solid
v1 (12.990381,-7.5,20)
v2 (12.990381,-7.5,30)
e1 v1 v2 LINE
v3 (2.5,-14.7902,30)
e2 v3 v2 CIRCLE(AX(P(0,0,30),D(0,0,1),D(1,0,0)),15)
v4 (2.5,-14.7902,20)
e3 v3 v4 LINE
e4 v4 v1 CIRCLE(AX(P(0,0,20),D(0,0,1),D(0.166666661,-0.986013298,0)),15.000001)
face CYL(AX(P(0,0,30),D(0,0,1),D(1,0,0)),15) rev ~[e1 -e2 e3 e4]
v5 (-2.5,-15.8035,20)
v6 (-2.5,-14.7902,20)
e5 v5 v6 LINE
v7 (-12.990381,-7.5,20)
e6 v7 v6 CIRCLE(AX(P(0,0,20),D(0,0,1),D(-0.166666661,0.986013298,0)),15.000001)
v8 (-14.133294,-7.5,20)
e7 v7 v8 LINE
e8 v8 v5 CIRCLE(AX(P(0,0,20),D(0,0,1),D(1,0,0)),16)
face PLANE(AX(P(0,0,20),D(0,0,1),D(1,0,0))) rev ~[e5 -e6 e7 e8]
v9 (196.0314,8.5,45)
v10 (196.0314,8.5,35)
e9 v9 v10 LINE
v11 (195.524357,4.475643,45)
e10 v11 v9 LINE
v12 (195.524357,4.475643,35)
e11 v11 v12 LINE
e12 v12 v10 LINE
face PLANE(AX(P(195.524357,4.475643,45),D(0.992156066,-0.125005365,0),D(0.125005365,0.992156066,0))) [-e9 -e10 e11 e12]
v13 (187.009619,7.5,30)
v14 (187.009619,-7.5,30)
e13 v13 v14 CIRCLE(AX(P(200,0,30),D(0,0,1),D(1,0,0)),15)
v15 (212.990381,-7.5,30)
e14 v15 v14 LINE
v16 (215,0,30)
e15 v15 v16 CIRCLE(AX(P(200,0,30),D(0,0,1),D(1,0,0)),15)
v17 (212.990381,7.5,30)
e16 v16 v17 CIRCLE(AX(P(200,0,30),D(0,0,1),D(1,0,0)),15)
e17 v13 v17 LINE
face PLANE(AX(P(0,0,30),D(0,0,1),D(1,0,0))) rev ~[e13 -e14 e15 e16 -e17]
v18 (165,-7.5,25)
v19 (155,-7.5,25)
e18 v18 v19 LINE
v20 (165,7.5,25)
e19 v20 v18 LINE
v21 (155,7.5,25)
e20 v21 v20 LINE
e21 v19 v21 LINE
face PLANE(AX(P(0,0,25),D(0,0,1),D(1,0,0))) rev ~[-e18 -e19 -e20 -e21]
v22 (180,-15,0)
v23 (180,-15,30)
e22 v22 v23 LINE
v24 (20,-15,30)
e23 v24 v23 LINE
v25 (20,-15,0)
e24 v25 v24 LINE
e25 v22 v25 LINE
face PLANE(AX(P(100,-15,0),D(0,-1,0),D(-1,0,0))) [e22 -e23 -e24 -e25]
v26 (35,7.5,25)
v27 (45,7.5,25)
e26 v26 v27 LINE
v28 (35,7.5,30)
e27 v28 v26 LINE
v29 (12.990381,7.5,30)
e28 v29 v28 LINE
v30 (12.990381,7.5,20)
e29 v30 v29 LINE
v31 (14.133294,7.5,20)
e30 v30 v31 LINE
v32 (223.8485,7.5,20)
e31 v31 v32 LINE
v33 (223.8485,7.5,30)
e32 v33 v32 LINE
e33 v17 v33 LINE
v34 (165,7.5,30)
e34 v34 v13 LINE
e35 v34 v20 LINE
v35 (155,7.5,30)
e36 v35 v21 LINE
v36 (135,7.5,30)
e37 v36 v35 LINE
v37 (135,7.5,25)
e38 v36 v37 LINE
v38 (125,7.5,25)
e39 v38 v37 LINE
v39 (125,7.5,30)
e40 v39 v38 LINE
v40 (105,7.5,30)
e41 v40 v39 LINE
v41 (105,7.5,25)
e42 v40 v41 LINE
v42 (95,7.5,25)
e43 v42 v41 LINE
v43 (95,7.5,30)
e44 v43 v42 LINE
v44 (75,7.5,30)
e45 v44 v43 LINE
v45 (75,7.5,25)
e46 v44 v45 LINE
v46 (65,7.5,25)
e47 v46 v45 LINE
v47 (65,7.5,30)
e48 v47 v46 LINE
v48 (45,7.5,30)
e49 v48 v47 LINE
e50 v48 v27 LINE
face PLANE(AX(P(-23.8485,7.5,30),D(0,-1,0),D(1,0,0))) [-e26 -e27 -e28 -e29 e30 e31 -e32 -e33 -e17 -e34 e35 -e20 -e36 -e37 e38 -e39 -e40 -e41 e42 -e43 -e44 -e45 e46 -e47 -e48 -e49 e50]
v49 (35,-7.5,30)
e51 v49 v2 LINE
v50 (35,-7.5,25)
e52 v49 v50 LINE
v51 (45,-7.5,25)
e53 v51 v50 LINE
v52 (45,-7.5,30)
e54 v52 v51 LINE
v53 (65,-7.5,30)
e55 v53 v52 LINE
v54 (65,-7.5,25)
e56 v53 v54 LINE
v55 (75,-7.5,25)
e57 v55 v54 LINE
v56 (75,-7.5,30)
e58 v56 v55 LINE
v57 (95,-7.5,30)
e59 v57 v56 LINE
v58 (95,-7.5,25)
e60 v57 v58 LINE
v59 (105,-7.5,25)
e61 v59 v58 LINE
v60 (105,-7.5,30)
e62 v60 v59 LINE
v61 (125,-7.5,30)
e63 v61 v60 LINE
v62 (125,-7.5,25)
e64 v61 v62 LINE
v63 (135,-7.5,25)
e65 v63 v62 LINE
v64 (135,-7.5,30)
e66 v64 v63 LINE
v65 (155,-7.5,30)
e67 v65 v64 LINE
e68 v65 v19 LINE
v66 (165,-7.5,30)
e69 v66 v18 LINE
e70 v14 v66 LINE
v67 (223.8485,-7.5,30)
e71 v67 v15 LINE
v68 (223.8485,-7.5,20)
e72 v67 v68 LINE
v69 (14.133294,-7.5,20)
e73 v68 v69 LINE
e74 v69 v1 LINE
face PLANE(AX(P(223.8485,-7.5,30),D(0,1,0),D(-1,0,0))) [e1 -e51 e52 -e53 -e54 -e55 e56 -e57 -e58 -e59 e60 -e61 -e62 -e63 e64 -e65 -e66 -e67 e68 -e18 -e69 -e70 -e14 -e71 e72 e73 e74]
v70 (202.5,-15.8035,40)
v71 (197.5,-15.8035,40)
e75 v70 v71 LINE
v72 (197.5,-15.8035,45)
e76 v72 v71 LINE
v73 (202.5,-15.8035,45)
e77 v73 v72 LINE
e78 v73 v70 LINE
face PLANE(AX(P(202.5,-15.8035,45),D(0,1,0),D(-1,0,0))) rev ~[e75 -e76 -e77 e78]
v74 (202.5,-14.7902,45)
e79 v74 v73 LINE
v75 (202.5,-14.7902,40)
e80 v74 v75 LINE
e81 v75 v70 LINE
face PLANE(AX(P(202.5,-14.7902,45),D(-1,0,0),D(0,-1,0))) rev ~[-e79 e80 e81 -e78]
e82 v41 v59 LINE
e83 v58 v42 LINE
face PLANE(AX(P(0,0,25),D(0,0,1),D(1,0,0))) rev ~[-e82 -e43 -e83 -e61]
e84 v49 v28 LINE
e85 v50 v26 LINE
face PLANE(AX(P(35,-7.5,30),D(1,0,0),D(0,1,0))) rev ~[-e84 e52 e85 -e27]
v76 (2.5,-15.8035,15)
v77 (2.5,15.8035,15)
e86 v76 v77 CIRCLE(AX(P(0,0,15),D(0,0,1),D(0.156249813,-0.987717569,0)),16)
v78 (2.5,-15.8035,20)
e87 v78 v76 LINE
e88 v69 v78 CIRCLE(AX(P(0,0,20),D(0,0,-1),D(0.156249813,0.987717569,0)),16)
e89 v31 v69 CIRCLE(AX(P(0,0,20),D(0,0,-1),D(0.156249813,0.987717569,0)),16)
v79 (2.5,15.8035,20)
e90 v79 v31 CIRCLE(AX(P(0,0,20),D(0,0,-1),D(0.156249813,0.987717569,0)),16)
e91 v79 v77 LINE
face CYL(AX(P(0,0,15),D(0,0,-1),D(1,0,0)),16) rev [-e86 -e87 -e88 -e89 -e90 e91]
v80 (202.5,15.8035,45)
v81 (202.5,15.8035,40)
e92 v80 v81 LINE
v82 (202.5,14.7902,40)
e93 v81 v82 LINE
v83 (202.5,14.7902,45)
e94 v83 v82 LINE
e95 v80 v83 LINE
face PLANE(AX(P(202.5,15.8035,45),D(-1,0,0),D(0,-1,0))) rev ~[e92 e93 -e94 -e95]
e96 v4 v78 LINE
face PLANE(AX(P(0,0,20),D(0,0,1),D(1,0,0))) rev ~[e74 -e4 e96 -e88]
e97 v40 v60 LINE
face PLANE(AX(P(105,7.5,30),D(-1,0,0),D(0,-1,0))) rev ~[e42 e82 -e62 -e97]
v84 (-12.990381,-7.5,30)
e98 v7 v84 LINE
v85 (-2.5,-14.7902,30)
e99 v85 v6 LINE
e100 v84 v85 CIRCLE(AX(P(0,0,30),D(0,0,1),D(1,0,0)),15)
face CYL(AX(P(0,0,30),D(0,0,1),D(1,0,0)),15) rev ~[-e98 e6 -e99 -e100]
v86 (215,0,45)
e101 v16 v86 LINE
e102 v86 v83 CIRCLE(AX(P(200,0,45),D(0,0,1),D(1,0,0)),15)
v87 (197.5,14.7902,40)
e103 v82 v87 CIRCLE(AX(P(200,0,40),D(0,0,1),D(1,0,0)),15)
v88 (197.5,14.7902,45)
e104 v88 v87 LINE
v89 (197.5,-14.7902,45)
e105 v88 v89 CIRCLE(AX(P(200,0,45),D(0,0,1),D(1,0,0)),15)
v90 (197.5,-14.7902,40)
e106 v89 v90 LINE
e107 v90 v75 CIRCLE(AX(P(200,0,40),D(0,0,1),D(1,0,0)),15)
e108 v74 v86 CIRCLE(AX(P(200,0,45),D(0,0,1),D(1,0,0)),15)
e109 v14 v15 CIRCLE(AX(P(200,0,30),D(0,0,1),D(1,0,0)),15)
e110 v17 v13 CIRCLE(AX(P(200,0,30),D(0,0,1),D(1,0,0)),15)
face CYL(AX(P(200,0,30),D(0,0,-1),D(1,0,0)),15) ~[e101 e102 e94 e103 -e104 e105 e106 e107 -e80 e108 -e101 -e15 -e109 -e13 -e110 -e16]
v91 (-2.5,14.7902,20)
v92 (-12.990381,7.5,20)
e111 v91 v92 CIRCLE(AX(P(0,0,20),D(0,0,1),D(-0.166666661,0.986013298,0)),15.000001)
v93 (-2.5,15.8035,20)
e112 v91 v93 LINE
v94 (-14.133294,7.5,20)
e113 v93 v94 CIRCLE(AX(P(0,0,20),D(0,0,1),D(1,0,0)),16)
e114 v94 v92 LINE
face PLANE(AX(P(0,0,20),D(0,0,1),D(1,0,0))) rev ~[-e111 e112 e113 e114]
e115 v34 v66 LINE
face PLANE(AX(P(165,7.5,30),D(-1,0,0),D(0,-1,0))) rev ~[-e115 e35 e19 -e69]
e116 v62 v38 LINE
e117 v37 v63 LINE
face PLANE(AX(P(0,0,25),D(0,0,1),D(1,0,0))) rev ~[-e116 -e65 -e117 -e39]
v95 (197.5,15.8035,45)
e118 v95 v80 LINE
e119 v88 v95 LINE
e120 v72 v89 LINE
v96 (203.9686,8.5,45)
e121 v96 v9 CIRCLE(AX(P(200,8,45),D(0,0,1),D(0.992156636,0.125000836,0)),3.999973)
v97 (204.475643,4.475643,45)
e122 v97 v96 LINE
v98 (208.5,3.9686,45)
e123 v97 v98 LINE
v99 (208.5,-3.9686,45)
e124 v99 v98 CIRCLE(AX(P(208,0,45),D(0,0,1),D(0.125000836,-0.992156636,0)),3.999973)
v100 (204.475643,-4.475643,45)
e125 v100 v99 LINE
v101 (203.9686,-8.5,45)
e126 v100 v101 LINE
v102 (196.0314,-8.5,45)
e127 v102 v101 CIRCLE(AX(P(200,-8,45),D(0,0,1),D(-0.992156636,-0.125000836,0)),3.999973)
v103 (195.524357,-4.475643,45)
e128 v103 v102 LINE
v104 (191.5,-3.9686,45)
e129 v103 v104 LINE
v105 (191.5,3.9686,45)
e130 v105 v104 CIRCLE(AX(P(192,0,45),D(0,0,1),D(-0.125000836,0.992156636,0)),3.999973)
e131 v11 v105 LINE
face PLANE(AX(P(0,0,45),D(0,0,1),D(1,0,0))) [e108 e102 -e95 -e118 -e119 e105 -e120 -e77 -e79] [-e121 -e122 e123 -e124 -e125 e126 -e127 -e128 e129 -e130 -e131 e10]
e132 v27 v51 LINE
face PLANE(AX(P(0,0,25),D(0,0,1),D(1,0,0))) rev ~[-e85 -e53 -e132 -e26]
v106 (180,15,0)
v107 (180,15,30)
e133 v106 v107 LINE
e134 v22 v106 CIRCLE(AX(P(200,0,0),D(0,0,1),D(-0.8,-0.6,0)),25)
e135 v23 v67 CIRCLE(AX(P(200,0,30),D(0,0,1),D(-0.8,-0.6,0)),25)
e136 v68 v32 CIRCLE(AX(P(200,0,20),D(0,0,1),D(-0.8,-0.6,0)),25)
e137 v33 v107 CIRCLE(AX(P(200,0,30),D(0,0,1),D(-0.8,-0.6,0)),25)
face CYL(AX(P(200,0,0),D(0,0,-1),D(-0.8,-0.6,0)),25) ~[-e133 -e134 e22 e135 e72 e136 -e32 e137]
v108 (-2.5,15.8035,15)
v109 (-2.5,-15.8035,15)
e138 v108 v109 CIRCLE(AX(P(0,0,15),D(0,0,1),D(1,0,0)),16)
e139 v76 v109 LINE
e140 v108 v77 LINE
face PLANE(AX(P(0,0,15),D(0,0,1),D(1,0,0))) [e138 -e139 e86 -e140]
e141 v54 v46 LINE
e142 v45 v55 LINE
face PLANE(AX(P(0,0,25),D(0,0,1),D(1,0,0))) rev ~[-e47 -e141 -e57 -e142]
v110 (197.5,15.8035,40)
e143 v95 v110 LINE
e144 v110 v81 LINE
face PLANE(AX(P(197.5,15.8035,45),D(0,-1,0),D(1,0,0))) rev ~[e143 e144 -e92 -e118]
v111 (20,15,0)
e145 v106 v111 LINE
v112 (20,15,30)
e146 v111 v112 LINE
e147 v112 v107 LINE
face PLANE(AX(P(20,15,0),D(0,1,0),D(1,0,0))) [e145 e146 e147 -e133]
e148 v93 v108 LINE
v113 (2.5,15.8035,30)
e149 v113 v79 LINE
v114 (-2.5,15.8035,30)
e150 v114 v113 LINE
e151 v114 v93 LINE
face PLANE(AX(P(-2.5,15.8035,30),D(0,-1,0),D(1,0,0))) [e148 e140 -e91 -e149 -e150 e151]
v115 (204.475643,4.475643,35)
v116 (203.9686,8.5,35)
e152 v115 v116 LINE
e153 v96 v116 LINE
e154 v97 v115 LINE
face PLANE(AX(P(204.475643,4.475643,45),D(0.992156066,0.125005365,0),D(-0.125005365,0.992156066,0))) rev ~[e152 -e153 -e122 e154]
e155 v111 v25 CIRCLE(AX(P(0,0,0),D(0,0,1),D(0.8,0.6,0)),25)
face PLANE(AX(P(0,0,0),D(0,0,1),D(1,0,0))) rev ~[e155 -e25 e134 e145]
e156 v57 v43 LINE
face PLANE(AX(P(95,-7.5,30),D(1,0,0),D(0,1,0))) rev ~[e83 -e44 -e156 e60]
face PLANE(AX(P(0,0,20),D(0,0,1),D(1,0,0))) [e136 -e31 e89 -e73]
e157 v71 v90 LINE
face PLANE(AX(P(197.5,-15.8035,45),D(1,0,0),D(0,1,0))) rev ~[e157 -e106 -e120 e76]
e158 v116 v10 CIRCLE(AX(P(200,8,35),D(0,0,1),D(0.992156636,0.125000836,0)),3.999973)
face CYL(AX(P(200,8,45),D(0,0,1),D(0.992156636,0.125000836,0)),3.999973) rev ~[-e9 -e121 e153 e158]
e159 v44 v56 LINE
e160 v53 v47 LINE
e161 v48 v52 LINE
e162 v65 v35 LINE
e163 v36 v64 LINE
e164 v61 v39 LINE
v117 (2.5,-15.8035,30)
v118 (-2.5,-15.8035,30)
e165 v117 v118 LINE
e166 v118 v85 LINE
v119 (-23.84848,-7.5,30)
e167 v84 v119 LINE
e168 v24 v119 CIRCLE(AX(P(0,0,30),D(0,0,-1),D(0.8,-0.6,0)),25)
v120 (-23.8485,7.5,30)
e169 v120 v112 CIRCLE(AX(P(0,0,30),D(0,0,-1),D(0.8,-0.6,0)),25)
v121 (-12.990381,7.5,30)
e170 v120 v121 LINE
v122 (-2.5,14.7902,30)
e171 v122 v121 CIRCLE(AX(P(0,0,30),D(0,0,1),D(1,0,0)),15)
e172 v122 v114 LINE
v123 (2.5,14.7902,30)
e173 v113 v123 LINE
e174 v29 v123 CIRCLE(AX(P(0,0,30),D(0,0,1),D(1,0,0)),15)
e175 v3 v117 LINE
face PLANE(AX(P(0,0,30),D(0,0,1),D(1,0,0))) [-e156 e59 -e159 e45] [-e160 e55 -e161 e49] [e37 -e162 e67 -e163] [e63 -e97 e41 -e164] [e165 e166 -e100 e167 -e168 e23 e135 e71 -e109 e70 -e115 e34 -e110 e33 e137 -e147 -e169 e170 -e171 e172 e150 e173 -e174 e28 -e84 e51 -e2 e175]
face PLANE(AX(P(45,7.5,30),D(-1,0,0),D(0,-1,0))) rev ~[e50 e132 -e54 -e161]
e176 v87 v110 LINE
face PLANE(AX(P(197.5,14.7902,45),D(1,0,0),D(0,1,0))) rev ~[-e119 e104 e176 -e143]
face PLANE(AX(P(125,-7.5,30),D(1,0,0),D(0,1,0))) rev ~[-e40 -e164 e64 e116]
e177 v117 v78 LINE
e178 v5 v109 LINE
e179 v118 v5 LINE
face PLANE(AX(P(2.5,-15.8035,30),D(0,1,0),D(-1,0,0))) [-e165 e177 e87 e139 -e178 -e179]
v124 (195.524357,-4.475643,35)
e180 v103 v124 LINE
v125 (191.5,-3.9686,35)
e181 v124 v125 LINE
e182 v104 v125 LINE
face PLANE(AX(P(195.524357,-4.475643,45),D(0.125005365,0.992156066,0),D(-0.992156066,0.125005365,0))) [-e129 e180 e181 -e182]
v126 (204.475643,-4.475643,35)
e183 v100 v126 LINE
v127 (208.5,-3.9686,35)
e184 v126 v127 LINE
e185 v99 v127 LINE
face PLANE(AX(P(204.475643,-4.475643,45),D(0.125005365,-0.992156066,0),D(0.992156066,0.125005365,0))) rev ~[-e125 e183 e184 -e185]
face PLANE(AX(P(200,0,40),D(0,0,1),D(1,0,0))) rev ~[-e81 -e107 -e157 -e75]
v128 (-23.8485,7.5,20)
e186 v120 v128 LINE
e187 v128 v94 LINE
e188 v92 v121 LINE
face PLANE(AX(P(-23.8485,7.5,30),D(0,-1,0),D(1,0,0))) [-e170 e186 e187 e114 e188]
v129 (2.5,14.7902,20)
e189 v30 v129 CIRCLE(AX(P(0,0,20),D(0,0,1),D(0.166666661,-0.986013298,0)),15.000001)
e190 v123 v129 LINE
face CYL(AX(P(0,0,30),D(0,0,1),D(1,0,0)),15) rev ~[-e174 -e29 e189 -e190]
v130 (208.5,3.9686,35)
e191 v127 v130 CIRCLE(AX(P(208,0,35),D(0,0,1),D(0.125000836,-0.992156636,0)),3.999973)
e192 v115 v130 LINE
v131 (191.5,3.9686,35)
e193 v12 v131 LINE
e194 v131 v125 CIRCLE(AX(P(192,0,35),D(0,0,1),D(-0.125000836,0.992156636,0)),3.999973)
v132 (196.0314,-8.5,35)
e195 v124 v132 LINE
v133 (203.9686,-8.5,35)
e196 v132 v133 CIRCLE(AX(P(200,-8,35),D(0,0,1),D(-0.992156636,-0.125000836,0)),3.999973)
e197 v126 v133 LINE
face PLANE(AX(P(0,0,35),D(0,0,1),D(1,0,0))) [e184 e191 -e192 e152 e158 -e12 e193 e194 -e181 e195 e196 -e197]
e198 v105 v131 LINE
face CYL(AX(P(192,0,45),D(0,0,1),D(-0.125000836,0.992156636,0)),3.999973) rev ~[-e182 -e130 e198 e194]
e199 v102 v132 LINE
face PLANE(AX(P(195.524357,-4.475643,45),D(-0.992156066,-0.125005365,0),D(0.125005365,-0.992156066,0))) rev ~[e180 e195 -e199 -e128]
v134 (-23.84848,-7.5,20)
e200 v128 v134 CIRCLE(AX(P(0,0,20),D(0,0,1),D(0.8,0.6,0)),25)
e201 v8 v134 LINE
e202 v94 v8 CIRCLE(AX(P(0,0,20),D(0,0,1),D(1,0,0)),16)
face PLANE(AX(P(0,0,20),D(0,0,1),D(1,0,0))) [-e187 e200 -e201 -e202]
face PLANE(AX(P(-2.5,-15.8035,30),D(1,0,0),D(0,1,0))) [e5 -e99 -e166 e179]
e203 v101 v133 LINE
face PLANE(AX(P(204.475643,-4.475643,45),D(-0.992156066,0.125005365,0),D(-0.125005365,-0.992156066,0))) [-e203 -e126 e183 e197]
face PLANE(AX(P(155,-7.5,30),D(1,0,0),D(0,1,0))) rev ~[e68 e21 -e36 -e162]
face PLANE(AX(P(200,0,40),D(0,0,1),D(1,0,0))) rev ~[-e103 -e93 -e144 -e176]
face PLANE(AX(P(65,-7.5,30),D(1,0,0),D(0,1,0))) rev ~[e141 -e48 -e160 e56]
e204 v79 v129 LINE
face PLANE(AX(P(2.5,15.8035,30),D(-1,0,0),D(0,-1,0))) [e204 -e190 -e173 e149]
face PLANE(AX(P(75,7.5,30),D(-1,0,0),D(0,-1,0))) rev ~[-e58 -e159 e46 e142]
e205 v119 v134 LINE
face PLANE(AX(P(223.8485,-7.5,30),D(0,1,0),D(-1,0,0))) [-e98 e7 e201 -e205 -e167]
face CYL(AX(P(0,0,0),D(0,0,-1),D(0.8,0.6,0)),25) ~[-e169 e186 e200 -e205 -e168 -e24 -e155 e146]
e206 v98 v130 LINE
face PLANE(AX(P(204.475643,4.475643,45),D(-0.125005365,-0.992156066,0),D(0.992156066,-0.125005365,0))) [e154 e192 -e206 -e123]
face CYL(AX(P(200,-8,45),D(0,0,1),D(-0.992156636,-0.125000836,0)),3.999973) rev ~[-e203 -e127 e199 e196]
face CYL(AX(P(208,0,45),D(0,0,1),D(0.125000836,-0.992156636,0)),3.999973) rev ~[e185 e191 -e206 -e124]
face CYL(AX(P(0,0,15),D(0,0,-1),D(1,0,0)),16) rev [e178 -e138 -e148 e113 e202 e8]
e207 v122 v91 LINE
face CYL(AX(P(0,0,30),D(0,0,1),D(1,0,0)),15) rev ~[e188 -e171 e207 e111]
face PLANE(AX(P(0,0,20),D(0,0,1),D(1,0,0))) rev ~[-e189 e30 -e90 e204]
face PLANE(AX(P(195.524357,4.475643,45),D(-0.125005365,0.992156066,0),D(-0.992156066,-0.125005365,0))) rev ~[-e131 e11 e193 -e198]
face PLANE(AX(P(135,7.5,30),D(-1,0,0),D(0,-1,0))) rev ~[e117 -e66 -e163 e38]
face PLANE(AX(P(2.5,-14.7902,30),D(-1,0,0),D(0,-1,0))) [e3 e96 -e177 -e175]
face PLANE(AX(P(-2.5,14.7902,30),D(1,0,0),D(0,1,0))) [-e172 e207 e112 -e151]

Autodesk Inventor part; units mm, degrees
ref_plane "YZ Plane" through (0, 0, 0) normal (1, 0, 0) x (0, 1, 0)
ref_plane "XZ Plane" through (0, 0, 0) normal (0, 1, 0) x (-1, 0, 0)
ref_plane "XY Plane" through (0, 0, 0) normal (0, 0, 1) x (1, 0, 0)
sketch "Szkic1" plane through (0, 0, 0) normal (0, 0, 1) x (1, 0, 0)
  arc A0 (20, 15) -> (-20, 15) centre (0, 0) ccw
  line L0 (20, 15) -> (100, 15)
  line L1 (100, 15) -> (100, -15)
  line L2 (100, -15) -> (20, -15)
  arc A1 (180, -15) -> (180, 15) centre (200, 0) ccw
  line L3 (180, 15) -> (100, 15)
  line L4 (100, -15) -> (180, -15)
  arc A2 (-20, 15) -> (20, -15) centre (0, 0) ccw
  dimension "d0" = 50
  dimension "d1" = 30
  dimension "d2" = 200
extrude "kształt" add sketch "Szkic1" along normal blind 30
sketch "Szkic2" plane through (0, 0, 30) normal (0, 0, 1) x (1, 0, 0)
  arc A0 (20, 15) -> (20, -15) centre (0, 0) ccw projected
  line L0 (20, -15) -> (180, -15) projected
  arc A1 (180, -15) -> (180, 15) centre (200, 0) ccw projected
  line L1 (180, 15) -> (20, 15) projected
  line L2 (-23.8485, 7.5) -> (223.8485, 7.5)
  line L3 (223.8485, -7.5) -> (-73.8485, -7.5)
  point P0 (-23.8485, -7.5)
  dimension "d5" = 15
extrude "rowek na kable" cut sketch "Szkic2" against normal blind 10 contours L2 A1 L3 A0
sketch "Szkic3" plane through (0, 0, 30) normal (0, 0, 1) x (1, 0, 0)
  arc A0 (223.8485, 7.5) -> (180, 15) centre (200, 0) ccw projected
  circle A1 centre (200, 0) radius 15
  point P0 (0, 0)
  dimension "d8" = 30
extrude "odstająćy cosik" add sketch "Szkic3" along normal blind 15
sketch "Szkic4" plane through (0, 0, 30) normal (0, 0, 1) x (1, 0, 0)
  circle A0 centre (0, 0) radius 15
  dimension "d11" = 30
extrude "wgłebiający cosik" cut sketch "Szkic4" against normal blind 15
sketch "Szkic5" plane through (0, 0, 30) normal (0, 0, 1) x (1, 0, 0)
  arc A0 (12.9904, 7.5) -> (-12.9904, 7.5) centre (0, 0) ccw projected
  line L0 (12.9904, 7.5) -> (187.0096, 7.5) projected
  arc A1 (212.9904, 7.5) -> (187.0096, 7.5) centre (200, 0) ccw projected
  line L1 (212.9904, 7.5) -> (223.8485, 7.5) projected
  arc A2 (223.8485, 7.5) -> (180, 15) centre (200, 0) ccw projected
  line L2 (180, 15) -> (20, 15) projected
  arc A3 (20, 15) -> (-23.8485, 7.5) centre (0, 0) ccw projected
  line L3 (-23.8485, 7.5) -> (-12.9904, 7.5) projected
  arc A4 (-12.9904, -7.5) -> (12.9904, -7.5) centre (0, 0) ccw projected
  line L4 (-12.9904, -7.5) -> (-23.8485, -7.5) projected
  arc A5 (-23.8485, -7.5) -> (20, -15) centre (0, 0) ccw projected
  line L5 (20, -15) -> (180, -15) projected
  arc A6 (180, -15) -> (223.8485, -7.5) centre (200, 0) ccw projected
  line L6 (223.8485, -7.5) -> (212.9904, -7.5) projected
  arc A7 (187.0096, -7.5) -> (212.9904, -7.5) centre (200, 0) ccw projected
  line L7 (187.0096, -7.5) -> (12.9904, -7.5) projected
  line L8 (35, 7.5) -> (45, 7.5)
  line L9 (45, 7.5) -> (45, -7.5)
  line L10 (45, -7.5) -> (35, -7.5)
  line L11 (35, -7.5) -> (35, 7.5)
  arc A8 (-23.8485, -7.5) -> (20, -15) centre (0, 0) ccw projected
  line L12 (65, -7.5) -> (65, 7.5)
  line L13 (75, 7.5) -> (75, -7.5)
  line L14 (75, -7.5) -> (65, -7.5)
  line L15 (65, 7.5) -> (75, 7.5)
  line L16 (95, -7.5) -> (95, 7.5)
  line L17 (105, 7.5) -> (105, -7.5)
  line L18 (105, -7.5) -> (95, -7.5)
  line L19 (95, 7.5) -> (105, 7.5)
  line L20 (125, -7.5) -> (125, 7.5)
  line L21 (135, 7.5) -> (135, -7.5)
  line L22 (135, -7.5) -> (125, -7.5)
  line L23 (125, 7.5) -> (135, 7.5)
  line L24 (155, -7.5) -> (155, 7.5)
  line L25 (165, 7.5) -> (165, -7.5)
  line L26 (165, -7.5) -> (155, -7.5)
  line L27 (155, 7.5) -> (165, 7.5)
  arc A9 (223.8485, 7.5) -> (180, 15) centre (200, 0) ccw projected
  line L28 (0, 0) -> (100, 0) construction
  line L29 (100, -7.5) -> (100, 7.5) construction
  line L30 (100, 0) -> (200, 0) construction
  point P0 (35, -7.5)
  point P1 (75, -7.5)
  point P2 (75, 7.5)
  point P3 (65, 7.5)
  point P4 (165, -7.5)
  point P5 (165, 7.5)
  point P6 (155, 7.5)
  point P7 (155, -7.5)
  point P8 (135, -7.5)
  point P9 (135, 7.5)
  point P10 (125, 7.5)
  point P11 (105, -7.5)
  point P12 (105, 7.5)
  point P13 (95, 7.5)
  dimension "d15" = 10
  dimension "d18" = 30
extrude "wzmocnienie" add sketch "Szkic5" against normal blind 5 contours L0 L9 L7 L11 | L0 L13 L7 L12 | L0 L17 L7 L16 | L0 L21 L7 L20 | L25 L7 L24 L0
sketch "Szkic6" plane through (200, 0, 45) normal (0, 0, 1) x (1, 0, 0)
  circle A0 centre (0, 0) radius 15 projected
  arc A1 (2.5, 15.8035) -> (2.5, -15.8035) centre (0, 0) ccw construction
  line L0 (-2.5, 15.8035) -> (2.5, 15.8035)
  line L1 (2.5, 15.8035) -> (2.5, 14.7902)
  line L2 (2.5, -15.8035) -> (-2.5, -15.8035)
  line L3 (-2.5, -15.8035) -> (-2.5, -14.7902)
  line L4 (2.5, 14.7902) -> (2.5, -14.7902) construction
  line L5 (-2.5, 14.7902) -> (-2.5, 15.8035)
  line L6 (-2.5, -14.7902) -> (-2.5, 14.7902) construction
  line L7 (2.5, -14.7902) -> (2.5, -15.8035)
  point P0 (-200, 0)
  dimension "d25" = 32
  dimension "d27" = 5
extrude "złobek" add sketch "Szkic6" against normal blind 5 contours A0 L5 L0 L1 | L7 L2 L3 A0
sketch "Szkic7" plane through (0, 0, 30) normal (0, 0, 1) x (1, 0, 0)
  circle A0 centre (0, 0) radius 16 construction
  line L0 (-2.5, 15.8035) -> (2.5, 15.8035)
  line L1 (2.5, -15.8035) -> (-2.5, -15.8035)
  arc A1 (12.9904, 7.5) -> (-12.9904, 7.5) centre (0, 0) ccw projected
  arc A2 (-12.9904, -7.5) -> (12.9904, -7.5) centre (0, 0) ccw projected
  line L2 (2.5, 15.8035) -> (2.5, 14.7902)
  line L3 (2.5, -14.7902) -> (2.5, -15.8035)
  line L4 (-2.5, -15.8035) -> (-2.5, -14.7902)
  line L5 (-2.5, 14.7902) -> (-2.5, 15.8035)
  arc A3 (2.5, 14.7902) -> (-2.5, 14.7902) centre (0, 0) ccw
  arc A4 (-2.5, -14.7902) -> (2.5, -14.7902) centre (0, 0) ccw
  point P0 (2.5, 15.2968)
  dimension "d30" = 32
  dimension "d32" = 5
extrude "wklęsły żłobek" cut sketch "Szkic7" against normal up to surface (15 mm away)
sketch "Szkic8" plane through (0, 0, 15) normal (0, 0, 1) x (1, 0, 0)
  arc A0 (2.5, -14.7902) -> (2.5, 14.7902) centre (0, 0) ccw projected
  line L0 (2.5, 15.8035) -> (2.5, 14.7902) projected
  line L1 (-2.5, 15.8035) -> (2.5, 15.8035) projected
  line L2 (-2.5, 14.7902) -> (-2.5, 15.8035) projected
  arc A1 (-2.5, 14.7902) -> (-2.5, -14.7902) centre (0, 0) ccw projected
  line L3 (-2.5, -15.8035) -> (-2.5, -14.7902) projected
  line L4 (2.5, -15.8035) -> (-2.5, -15.8035) projected
  line L5 (2.5, -14.7902) -> (2.5, -15.8035) projected
  circle A2 centre (0, 0) radius 16
  circle A3 centre (0, 0) radius 15
extrude "rowek" cut sketch "Szkic8" along normal blind 5 contours A0 L0 A2 L5 | L3 A2 L2 A1
sketch "Szkic12" plane through (0, 0, 45) normal (0, 0, 1) x (1, 0, 0)
  arc A0 (202.5, -14.7902) -> (202.5, 14.7902) centre (200, 0) ccw projected
  circle A1 centre (200, 0) radius 5 construction
  arc A2 (203.9686, 8.5) -> (196.0314, 8.5) centre (200, 8) ccw
  line L0 (195.0392, 0.625) -> (196.0314, 8.5)
  line L1 (204.9608, 0.625) -> (203.9686, 8.5)
  line L2 (199.375, 4.9608) -> (191.5, 3.9686)
  arc A3 (191.5, 3.9686) -> (191.5, -3.9686) centre (192, 0) ccw
  line L3 (199.375, -4.9608) -> (191.5, -3.9686)
  line L4 (195.0392, -0.625) -> (196.0314, -8.5)
  arc A4 (196.0314, -8.5) -> (203.9686, -8.5) centre (200, -8) ccw
  line L5 (204.9608, -0.625) -> (203.9686, -8.5)
  line L6 (200.625, -4.9608) -> (208.5, -3.9686)
  arc A5 (208.5, -3.9686) -> (208.5, 3.9686) centre (208, 0) ccw
  line L7 (200.625, 4.9608) -> (208.5, 3.9686)
  point P0 (0, 0)
  point P1 (195.5244, 4.4756)
  point P2 (195.5244, -4.4756)
  point P3 (204.4756, -4.4756)
  point P4 (204.4756, 4.4756)
  dimension "d53" = 10
  dimension "d54" = 8
  dimension "d55" = 8
  dimension "d58" = 360
extrude "Wyciągnięcie proste12" cut sketch "Szkic12" against normal blind 10
properties part number "2stopien" material "Tworzywo sztuczne ABS"
